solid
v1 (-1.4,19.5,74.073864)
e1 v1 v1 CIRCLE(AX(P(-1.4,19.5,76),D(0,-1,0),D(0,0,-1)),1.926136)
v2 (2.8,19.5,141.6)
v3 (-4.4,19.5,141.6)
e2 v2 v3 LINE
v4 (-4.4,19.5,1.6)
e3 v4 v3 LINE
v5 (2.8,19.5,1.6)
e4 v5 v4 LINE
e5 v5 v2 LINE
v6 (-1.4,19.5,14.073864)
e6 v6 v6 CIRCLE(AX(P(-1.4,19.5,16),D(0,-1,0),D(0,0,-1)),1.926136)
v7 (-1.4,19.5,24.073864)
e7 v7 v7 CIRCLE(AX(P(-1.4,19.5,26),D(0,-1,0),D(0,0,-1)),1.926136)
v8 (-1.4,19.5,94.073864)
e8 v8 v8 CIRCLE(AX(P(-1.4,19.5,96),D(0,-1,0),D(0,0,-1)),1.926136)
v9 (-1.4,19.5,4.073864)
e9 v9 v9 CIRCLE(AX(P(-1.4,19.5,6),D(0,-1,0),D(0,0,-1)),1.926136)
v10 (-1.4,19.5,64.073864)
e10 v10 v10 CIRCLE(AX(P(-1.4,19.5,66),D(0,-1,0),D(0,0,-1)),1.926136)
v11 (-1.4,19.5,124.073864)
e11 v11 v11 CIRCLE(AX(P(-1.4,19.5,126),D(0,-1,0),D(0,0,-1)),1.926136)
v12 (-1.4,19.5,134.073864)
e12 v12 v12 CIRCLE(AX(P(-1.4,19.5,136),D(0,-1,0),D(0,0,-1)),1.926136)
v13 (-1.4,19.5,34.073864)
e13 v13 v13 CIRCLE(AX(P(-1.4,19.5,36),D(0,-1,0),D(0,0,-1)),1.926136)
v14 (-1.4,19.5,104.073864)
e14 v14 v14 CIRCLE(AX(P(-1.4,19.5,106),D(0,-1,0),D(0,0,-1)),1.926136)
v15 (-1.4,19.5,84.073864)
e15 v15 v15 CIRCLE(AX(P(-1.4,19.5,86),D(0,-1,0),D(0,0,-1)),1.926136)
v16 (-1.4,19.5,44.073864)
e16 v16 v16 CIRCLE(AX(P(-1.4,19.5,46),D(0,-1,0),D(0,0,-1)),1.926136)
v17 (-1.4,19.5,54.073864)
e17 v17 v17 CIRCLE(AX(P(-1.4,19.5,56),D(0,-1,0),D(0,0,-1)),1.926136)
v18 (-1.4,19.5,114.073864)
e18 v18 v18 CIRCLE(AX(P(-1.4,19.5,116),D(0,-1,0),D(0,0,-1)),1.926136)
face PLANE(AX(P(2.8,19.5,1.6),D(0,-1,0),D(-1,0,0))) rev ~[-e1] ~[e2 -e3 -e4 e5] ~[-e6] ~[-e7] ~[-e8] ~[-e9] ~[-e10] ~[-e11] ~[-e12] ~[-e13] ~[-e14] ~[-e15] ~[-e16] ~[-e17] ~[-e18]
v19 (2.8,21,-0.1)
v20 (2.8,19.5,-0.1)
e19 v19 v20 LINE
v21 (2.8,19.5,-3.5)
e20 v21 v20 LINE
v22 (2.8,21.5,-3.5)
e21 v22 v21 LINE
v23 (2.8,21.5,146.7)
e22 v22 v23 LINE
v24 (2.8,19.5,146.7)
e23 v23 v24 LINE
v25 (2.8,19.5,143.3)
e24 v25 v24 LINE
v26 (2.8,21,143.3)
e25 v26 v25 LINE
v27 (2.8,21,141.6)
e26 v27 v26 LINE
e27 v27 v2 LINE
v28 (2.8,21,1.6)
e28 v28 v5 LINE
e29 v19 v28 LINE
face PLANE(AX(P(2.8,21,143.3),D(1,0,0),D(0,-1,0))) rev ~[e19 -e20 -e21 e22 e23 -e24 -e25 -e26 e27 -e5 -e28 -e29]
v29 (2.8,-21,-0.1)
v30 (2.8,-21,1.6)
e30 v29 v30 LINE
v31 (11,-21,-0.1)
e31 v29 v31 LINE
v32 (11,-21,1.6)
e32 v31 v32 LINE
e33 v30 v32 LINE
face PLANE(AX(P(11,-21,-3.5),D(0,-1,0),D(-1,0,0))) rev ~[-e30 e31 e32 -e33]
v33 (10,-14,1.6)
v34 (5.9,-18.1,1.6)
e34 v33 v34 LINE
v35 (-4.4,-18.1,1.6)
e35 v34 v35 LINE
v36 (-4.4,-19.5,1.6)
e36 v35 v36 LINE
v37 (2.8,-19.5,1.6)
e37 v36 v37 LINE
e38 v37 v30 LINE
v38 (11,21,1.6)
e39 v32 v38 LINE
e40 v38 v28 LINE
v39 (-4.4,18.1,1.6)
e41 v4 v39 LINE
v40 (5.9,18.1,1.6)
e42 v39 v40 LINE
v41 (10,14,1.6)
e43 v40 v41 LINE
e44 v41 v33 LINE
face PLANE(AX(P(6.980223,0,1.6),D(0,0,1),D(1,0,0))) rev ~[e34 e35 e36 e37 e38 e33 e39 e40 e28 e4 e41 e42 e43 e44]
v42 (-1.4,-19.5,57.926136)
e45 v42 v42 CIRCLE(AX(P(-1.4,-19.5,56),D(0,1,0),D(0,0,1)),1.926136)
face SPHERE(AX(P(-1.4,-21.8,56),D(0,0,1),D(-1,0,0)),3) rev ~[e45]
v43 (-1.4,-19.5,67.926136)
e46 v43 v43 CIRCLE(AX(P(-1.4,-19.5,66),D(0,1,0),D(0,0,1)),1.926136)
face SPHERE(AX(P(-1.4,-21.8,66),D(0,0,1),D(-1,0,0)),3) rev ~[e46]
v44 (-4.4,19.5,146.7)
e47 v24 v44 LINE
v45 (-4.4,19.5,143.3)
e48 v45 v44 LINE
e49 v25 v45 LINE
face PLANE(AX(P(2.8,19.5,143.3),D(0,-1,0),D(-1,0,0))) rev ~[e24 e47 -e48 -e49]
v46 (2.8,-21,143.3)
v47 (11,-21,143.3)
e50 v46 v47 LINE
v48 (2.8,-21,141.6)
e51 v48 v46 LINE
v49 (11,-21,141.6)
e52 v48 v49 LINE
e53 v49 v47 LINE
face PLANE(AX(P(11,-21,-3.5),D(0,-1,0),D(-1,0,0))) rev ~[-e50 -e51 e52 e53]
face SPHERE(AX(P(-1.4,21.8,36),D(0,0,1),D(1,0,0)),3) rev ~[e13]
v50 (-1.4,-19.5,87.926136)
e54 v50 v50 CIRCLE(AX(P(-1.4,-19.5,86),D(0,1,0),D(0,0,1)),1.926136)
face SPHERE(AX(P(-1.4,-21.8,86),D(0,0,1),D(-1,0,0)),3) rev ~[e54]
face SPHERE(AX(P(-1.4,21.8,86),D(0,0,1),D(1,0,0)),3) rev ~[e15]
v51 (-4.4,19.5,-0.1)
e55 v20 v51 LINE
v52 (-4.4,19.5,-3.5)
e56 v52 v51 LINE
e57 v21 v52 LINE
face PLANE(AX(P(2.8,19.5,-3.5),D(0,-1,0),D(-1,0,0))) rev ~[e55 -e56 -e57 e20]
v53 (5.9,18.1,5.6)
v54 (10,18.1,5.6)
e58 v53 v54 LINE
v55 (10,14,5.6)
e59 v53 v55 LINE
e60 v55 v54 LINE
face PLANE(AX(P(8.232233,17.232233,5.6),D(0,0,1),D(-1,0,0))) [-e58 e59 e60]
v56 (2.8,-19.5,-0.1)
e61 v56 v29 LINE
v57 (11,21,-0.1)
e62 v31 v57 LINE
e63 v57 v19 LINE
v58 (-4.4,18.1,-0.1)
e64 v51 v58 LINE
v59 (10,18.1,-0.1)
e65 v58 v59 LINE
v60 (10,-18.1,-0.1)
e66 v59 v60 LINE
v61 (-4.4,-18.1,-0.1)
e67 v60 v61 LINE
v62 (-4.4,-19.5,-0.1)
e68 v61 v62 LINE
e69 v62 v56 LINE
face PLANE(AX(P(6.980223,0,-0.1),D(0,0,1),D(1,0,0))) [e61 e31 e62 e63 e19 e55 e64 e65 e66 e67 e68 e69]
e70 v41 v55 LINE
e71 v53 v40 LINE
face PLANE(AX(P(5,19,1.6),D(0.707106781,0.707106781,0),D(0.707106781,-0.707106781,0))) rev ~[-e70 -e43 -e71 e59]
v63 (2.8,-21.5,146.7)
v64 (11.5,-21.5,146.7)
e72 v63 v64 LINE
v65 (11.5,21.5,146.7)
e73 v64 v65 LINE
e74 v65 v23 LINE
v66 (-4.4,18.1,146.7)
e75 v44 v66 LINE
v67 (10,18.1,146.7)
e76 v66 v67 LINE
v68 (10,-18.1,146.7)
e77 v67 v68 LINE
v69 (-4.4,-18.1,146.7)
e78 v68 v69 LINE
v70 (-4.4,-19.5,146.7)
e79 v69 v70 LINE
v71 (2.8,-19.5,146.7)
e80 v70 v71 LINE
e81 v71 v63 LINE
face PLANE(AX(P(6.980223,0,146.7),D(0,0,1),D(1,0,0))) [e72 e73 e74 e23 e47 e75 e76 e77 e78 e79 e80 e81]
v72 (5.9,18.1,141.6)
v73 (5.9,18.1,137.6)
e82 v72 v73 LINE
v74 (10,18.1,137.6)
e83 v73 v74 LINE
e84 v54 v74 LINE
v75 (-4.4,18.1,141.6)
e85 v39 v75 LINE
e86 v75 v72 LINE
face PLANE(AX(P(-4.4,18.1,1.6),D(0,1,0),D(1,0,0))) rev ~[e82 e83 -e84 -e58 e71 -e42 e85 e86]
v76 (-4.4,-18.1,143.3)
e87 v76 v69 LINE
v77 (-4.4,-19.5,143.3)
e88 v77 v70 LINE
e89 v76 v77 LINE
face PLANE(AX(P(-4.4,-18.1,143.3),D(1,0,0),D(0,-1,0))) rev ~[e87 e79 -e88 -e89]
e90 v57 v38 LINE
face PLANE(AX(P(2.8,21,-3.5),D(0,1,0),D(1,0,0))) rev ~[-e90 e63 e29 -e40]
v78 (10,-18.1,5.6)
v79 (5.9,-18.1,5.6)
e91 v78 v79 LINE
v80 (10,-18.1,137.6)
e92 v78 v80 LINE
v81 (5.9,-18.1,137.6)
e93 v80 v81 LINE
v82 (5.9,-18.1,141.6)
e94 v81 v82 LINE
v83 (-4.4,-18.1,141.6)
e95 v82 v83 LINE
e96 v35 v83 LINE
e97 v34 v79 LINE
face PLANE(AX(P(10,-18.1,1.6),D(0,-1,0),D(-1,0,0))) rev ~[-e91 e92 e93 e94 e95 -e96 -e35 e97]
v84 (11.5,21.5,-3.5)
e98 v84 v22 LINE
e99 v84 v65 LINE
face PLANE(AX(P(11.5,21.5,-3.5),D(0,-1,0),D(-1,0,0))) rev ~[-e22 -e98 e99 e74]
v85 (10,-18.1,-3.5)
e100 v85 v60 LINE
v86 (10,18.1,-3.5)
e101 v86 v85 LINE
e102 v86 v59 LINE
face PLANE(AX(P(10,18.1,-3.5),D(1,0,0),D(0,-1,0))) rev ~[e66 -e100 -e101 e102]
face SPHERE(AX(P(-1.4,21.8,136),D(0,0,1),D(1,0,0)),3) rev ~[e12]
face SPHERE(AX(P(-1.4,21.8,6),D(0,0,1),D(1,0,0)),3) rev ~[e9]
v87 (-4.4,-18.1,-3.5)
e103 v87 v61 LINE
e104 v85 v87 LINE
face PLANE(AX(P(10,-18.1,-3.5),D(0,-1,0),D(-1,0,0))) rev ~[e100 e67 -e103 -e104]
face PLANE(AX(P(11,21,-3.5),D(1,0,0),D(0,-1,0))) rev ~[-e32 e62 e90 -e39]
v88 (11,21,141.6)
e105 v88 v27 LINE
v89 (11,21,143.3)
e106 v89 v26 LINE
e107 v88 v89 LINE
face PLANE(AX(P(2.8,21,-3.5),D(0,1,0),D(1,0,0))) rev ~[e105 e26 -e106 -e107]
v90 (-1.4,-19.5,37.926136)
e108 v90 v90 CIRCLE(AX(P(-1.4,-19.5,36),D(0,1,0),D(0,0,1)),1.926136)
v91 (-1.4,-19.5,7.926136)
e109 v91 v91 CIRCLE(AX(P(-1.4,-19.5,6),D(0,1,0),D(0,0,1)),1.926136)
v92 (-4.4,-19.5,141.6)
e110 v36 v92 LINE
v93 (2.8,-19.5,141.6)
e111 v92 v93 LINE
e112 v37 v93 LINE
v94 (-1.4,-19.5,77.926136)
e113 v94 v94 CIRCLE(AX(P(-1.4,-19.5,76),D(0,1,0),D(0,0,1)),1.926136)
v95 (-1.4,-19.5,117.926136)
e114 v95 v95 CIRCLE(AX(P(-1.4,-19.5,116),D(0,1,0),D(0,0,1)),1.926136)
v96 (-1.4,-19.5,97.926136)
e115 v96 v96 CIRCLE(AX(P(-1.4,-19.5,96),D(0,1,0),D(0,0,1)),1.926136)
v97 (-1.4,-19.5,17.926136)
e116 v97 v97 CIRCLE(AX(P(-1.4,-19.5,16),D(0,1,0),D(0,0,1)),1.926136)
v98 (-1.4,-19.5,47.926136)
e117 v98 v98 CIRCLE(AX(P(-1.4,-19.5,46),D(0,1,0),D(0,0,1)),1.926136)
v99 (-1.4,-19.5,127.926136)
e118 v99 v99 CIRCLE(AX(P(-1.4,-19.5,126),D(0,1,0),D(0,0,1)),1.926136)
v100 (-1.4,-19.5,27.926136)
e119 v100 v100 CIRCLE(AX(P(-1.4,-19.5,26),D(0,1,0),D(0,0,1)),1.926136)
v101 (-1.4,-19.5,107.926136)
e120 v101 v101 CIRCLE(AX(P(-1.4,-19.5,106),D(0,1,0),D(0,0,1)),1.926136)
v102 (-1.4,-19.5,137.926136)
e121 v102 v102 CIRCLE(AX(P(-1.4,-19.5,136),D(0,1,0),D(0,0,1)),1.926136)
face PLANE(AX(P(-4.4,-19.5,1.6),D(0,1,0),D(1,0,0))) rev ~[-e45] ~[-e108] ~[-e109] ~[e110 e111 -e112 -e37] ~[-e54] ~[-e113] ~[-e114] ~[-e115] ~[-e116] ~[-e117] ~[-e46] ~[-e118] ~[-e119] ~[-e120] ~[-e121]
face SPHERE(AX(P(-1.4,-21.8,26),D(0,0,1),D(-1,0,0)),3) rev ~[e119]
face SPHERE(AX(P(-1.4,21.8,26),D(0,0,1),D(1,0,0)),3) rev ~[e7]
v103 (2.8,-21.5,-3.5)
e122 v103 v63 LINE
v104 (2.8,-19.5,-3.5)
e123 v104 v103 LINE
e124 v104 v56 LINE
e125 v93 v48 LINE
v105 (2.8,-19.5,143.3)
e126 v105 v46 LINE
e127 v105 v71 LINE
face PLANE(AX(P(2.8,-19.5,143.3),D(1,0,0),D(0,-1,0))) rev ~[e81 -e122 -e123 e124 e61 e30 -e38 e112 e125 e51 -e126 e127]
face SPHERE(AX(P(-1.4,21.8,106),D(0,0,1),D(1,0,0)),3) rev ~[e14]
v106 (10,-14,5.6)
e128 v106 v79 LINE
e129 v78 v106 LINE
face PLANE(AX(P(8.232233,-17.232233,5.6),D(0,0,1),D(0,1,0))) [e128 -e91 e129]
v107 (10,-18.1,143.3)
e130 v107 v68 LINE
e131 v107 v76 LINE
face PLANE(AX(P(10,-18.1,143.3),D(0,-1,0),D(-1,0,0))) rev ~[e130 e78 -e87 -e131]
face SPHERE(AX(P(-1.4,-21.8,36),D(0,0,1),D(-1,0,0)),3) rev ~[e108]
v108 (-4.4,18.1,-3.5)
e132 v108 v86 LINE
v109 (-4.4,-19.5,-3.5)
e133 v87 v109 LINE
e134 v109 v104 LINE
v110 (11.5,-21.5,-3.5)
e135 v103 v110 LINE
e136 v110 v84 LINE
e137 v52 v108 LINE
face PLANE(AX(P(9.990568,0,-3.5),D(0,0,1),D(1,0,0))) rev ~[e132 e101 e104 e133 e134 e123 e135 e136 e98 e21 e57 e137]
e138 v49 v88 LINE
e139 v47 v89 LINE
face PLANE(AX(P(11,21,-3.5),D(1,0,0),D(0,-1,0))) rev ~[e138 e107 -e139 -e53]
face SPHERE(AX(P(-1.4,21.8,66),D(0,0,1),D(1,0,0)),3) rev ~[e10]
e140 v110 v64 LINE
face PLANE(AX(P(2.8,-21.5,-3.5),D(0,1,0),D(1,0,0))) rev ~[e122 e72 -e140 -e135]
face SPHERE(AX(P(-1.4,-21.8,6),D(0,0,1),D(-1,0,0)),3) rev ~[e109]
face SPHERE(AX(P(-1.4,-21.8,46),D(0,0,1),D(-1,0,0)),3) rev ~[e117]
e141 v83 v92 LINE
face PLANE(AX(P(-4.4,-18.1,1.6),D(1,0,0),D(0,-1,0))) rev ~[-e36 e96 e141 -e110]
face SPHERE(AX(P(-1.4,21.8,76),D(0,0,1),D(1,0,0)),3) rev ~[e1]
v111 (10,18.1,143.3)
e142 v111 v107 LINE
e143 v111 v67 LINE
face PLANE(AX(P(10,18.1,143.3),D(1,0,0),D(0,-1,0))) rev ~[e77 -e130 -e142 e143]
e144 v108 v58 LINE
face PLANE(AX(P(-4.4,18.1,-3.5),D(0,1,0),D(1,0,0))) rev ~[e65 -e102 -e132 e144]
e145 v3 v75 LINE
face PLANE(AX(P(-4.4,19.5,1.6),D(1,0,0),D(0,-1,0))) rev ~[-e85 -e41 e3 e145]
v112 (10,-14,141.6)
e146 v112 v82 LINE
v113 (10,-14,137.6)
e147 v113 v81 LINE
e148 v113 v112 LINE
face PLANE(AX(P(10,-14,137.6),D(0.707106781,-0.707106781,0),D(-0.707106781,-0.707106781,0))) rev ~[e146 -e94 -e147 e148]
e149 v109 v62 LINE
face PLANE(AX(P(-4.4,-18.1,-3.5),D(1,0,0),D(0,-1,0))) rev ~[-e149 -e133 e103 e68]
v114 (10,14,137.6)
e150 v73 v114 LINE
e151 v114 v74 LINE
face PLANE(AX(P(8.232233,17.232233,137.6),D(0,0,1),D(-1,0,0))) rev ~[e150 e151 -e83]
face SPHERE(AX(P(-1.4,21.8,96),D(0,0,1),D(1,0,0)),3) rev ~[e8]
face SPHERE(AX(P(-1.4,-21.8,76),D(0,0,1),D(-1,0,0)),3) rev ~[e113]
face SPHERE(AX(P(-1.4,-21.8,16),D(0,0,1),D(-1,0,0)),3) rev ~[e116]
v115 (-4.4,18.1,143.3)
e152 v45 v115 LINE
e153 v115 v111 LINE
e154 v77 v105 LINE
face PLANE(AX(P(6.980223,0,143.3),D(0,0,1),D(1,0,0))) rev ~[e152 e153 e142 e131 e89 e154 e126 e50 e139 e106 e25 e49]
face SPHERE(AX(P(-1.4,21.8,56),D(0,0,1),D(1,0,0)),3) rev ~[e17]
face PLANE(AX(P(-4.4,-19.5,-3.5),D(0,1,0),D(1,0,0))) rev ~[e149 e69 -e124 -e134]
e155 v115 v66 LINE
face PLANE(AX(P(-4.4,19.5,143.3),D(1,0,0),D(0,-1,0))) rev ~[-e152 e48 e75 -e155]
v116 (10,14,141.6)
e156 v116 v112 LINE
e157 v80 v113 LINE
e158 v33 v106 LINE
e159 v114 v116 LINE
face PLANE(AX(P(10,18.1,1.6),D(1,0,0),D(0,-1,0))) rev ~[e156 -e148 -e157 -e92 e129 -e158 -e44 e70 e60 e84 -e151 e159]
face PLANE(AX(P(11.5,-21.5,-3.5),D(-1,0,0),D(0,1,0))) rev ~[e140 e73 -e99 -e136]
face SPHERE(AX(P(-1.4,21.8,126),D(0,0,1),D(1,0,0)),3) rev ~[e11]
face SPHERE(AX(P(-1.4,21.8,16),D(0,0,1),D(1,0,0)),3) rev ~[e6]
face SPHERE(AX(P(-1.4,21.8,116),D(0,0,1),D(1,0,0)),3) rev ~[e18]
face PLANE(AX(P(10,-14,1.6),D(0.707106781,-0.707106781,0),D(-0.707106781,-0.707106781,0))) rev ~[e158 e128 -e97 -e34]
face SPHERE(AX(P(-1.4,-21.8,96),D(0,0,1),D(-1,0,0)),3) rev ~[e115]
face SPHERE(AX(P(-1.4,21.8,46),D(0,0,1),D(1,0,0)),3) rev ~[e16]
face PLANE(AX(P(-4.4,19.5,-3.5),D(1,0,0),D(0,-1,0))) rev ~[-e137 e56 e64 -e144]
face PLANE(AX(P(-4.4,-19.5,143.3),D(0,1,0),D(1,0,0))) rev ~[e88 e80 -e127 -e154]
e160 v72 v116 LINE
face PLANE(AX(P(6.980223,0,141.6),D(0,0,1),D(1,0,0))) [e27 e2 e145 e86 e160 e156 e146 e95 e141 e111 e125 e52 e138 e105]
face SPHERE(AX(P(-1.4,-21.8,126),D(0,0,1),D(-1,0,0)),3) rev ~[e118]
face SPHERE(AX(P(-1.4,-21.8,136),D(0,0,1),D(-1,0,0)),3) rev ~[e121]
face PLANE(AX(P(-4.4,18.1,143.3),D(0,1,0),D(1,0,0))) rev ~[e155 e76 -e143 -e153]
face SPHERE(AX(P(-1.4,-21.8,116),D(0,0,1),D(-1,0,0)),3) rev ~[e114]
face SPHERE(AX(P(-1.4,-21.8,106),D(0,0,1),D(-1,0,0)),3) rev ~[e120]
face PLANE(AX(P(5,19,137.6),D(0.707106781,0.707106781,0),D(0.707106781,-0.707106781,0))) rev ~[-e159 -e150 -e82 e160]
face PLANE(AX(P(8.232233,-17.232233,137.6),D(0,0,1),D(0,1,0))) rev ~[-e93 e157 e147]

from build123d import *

# Parameters (mm, degrees)
EXTRUDE012_DEPTH           = 4
EXTRUDE012_PLACEMENT_ANGLE = 90
EXTRUDE013_DEPTH           = 4
EXTRUDE013_PLACEMENT_ANGLE = 180
EXTRUDE010_DEPTH           = 4
EXTRUDE010_PLACEMENT_ANGLE = 90
EXTRUDE011_DEPTH           = 4
EXTRUDE011_PLACEMENT_ANGLE = 180
BOX010_W                   = 10
BOX010_H                   = 10
BOX010_DEPTH               = 10
BOX014_W                   = 10
BOX014_H                   = 10
BOX014_DEPTH               = 10
BOX016_W                   = 10
BOX016_H                   = 10
BOX016_DEPTH               = 10
BOX019_W                   = 10
BOX019_H                   = 10
BOX019_DEPTH               = 10
BOX015_W                   = 10
BOX015_H                   = 10
BOX015_DEPTH               = 10
BOX012_W                   = 10
BOX012_H                   = 10
BOX012_DEPTH               = 10
BOX017_W                   = 10
BOX017_H                   = 10
BOX017_DEPTH               = 10
BOX018_W                   = 10
BOX018_H                   = 10
BOX018_DEPTH               = 10
BOX020_W                   = 10
BOX020_H                   = 10
BOX020_DEPTH               = 10
BOX009_W                   = 10
BOX009_H                   = 10
BOX009_DEPTH               = 10
BOX011_W                   = 10
BOX011_H                   = 10
BOX011_DEPTH               = 10
BOX013_W                   = 10
BOX013_H                   = 10
BOX013_DEPTH               = 10
BOX021_W                   = 10
BOX021_H                   = 10
BOX021_DEPTH               = 10
BOX008_W                   = 10
BOX008_H                   = 10
BOX008_DEPTH               = 10
BOX043_W                   = 10
BOX043_H                   = 10
BOX043_DEPTH               = 10
BOX046_W                   = 10
BOX046_H                   = 10
BOX046_DEPTH               = 10
BOX041_W                   = 10
BOX041_H                   = 10
BOX041_DEPTH               = 10
BOX037_W                   = 10
BOX037_H                   = 10
BOX037_DEPTH               = 10
BOX038_W                   = 10
BOX038_H                   = 10
BOX038_DEPTH               = 10
BOX047_W                   = 10
BOX047_H                   = 10
BOX047_DEPTH               = 10
BOX036_W                   = 10
BOX036_H                   = 10
BOX036_DEPTH               = 10
BOX039_W                   = 10
BOX039_H                   = 10
BOX039_DEPTH               = 10
BOX040_W                   = 10
BOX040_H                   = 10
BOX040_DEPTH               = 10
BOX042_W                   = 10
BOX042_H                   = 10
BOX042_DEPTH               = 10
BOX049_W                   = 10
BOX049_H                   = 10
BOX049_DEPTH               = 10
BOX048_W                   = 10
BOX048_H                   = 10
BOX048_DEPTH               = 10
BOX045_W                   = 10
BOX045_H                   = 10
BOX045_DEPTH               = 10
BOX044_W                   = 10
BOX044_H                   = 10
BOX044_DEPTH               = 10
FUSION011_PLACEMENT_ANGLE  = 180
EXTRUDE005_DEPTH           = 140
EXTRUDE006_DEPTH           = 3.4
EXTRUDE001_DEPTH           = 3.4
EXTRUDE002_DEPTH           = 150.2


with BuildPart() as extrude012:
    # Sketch011 → Extrude012 (new body)
    with BuildSketch(Plane.XY):
        Polygon((0, 0), (5, 0), (0, 5), align=None)
    extrude(amount=EXTRUDE012_DEPTH)


with BuildPart() as extrude012_1:
    # Extrude012 placement: moved
    add(extrude012.part.moved(Location((10, -19, 1.6))).rotate(Axis((10, -19, 1.6), (0, 0, 1)), EXTRUDE012_PLACEMENT_ANGLE))


with BuildPart() as stableliser2:
    # Sketch011 → Extrude013 (new body)
    with BuildSketch(Plane.XY):
        Polygon((0, 0), (5, 0), (0, 5), align=None)
    extrude(amount=EXTRUDE013_DEPTH)


with BuildPart() as stableliser2_1:
    # Extrude013 placement: moved
    add(stableliser2.part.moved(Location((10, 19, 1.6))).rotate(Axis((10, 19, 1.6), (0, 0, 1)), EXTRUDE013_PLACEMENT_ANGLE))

    # Fusion025: union Extrude012
    add(extrude012_1.part)


with BuildPart() as stableliser2_2:
    # Fusion025 placement: moved
    add(stableliser2_1.part.moved(Location((0, 0, 136))))


with BuildPart() as extrude010:
    # Sketch010 (on Cut) → Extrude010 (new body)
    with BuildSketch(Plane.XY):
        Polygon((0, 0), (5, 0), (0, 5), align=None)
    extrude(amount=EXTRUDE010_DEPTH)


with BuildPart() as extrude010_1:
    # Extrude010 placement: moved
    add(extrude010.part.moved(Location((10, -19, 1.6))).rotate(Axis((10, -19, 1.6), (0, 0, 1)), EXTRUDE010_PLACEMENT_ANGLE))


with BuildPart() as stableliser1:
    # Sketch010 (on Cut) → Extrude011 (new body)
    with BuildSketch(Plane.XY):
        Polygon((0, 0), (5, 0), (0, 5), align=None)
    extrude(amount=EXTRUDE011_DEPTH)


with BuildPart() as stableliser1_1:
    # Extrude011 placement: moved
    add(stableliser1.part.moved(Location((10, 19, 1.6))).rotate(Axis((10, 19, 1.6), (0, 0, 1)), EXTRUDE011_PLACEMENT_ANGLE))

    # Fusion019: union Extrude010
    add(extrude010_1.part)


with BuildPart() as cube008:
    # Box010 → Box010 (new body)
    with BuildSketch(Plane(origin=(-6, 20.5, 0), x_dir=(1, 0, 0), z_dir=(0, 0, 1))):
        with Locations((5, 5)):
            Rectangle(BOX010_W, BOX010_H)
    extrude(amount=BOX010_DEPTH)


with BuildPart() as nobhole002:
    # Sphere003 → Sphere003 (revolve)
    with BuildSketch(Plane(origin=(-1, 21.8, 6), x_dir=(1, 0, 0), z_dir=(0, -1, 0))):
        with BuildLine():
            ThreePointArc((0, -3), (3, 0), (0, 3))
            Line((0, 3), (0, -3))
        make_face()
    revolve(axis=Axis((-1, 21.8, 6), (0, 0, 1)))

    # Cut004: cut Cube008
    add(cube008.part, mode=Mode.SUBTRACT)


with BuildPart() as nobhole002_1:
    # Cut004 placement: moved
    add(nobhole002.part.moved(Location((0, 0, 20))))


with BuildPart() as cube012:
    # Box014 → Box014 (new body)
    with BuildSketch(Plane(origin=(-6, 20.5, 0), x_dir=(1, 0, 0), z_dir=(0, 0, 1))):
        with Locations((5, 5)):
            Rectangle(BOX014_W, BOX014_H)
    extrude(amount=BOX014_DEPTH)


with BuildPart() as nobhole006:
    # Sphere007 → Sphere007 (revolve)
    with BuildSketch(Plane(origin=(-1, 21.8, 6), x_dir=(1, 0, 0), z_dir=(0, -1, 0))):
        with BuildLine():
            ThreePointArc((0, -3), (3, 0), (0, 3))
            Line((0, 3), (0, -3))
        make_face()
    revolve(axis=Axis((-1, 21.8, 6), (0, 0, 1)))

    # Cut008: cut Cube012
    add(cube012.part, mode=Mode.SUBTRACT)


with BuildPart() as nobhole006_1:
    # Cut008 placement: moved
    add(nobhole006.part.moved(Location((0, 0, 60))))


with BuildPart() as cube014:
    # Box016 → Box016 (new body)
    with BuildSketch(Plane(origin=(-6, 20.5, 0), x_dir=(1, 0, 0), z_dir=(0, 0, 1))):
        with Locations((5, 5)):
            Rectangle(BOX016_W, BOX016_H)
    extrude(amount=BOX016_DEPTH)


with BuildPart() as nobhole008:
    # Sphere009 → Sphere009 (revolve)
    with BuildSketch(Plane(origin=(-1, 21.8, 6), x_dir=(1, 0, 0), z_dir=(0, -1, 0))):
        with BuildLine():
            ThreePointArc((0, -3), (3, 0), (0, 3))
            Line((0, 3), (0, -3))
        make_face()
    revolve(axis=Axis((-1, 21.8, 6), (0, 0, 1)))

    # Cut010: cut Cube014
    add(cube014.part, mode=Mode.SUBTRACT)


with BuildPart() as nobhole008_1:
    # Cut010 placement: moved
    add(nobhole008.part.moved(Location((0, 0, 80))))


with BuildPart() as cube017:
    # Box019 → Box019 (new body)
    with BuildSketch(Plane(origin=(-6, 20.5, 0), x_dir=(1, 0, 0), z_dir=(0, 0, 1))):
        with Locations((5, 5)):
            Rectangle(BOX019_W, BOX019_H)
    extrude(amount=BOX019_DEPTH)


with BuildPart() as nobhole011:
    # Sphere012 → Sphere012 (revolve)
    with BuildSketch(Plane(origin=(-1, 21.8, 6), x_dir=(1, 0, 0), z_dir=(0, -1, 0))):
        with BuildLine():
            ThreePointArc((0, -3), (3, 0), (0, 3))
            Line((0, 3), (0, -3))
        make_face()
    revolve(axis=Axis((-1, 21.8, 6), (0, 0, 1)))

    # Cut013: cut Cube017
    add(cube017.part, mode=Mode.SUBTRACT)


with BuildPart() as nobhole011_1:
    # Cut013 placement: moved
    add(nobhole011.part.moved(Location((0, 0, 110))))


with BuildPart() as cube013:
    # Box015 → Box015 (new body)
    with BuildSketch(Plane(origin=(-6, 20.5, 0), x_dir=(1, 0, 0), z_dir=(0, 0, 1))):
        with Locations((5, 5)):
            Rectangle(BOX015_W, BOX015_H)
    extrude(amount=BOX015_DEPTH)


with BuildPart() as nobhole007:
    # Sphere008 → Sphere008 (revolve)
    with BuildSketch(Plane(origin=(-1, 21.8, 6), x_dir=(1, 0, 0), z_dir=(0, -1, 0))):
        with BuildLine():
            ThreePointArc((0, -3), (3, 0), (0, 3))
            Line((0, 3), (0, -3))
        make_face()
    revolve(axis=Axis((-1, 21.8, 6), (0, 0, 1)))

    # Cut009: cut Cube013
    add(cube013.part, mode=Mode.SUBTRACT)


with BuildPart() as nobhole007_1:
    # Cut009 placement: moved
    add(nobhole007.part.moved(Location((0, 0, 70))))


with BuildPart() as cube010:
    # Box012 → Box012 (new body)
    with BuildSketch(Plane(origin=(-6, 20.5, 0), x_dir=(1, 0, 0), z_dir=(0, 0, 1))):
        with Locations((5, 5)):
            Rectangle(BOX012_W, BOX012_H)
    extrude(amount=BOX012_DEPTH)


with BuildPart() as nobhole004:
    # Sphere005 → Sphere005 (revolve)
    with BuildSketch(Plane(origin=(-1, 21.8, 6), x_dir=(1, 0, 0), z_dir=(0, -1, 0))):
        with BuildLine():
            ThreePointArc((0, -3), (3, 0), (0, 3))
            Line((0, 3), (0, -3))
        make_face()
    revolve(axis=Axis((-1, 21.8, 6), (0, 0, 1)))

    # Cut006: cut Cube010
    add(cube010.part, mode=Mode.SUBTRACT)


with BuildPart() as nobhole004_1:
    # Cut006 placement: moved
    add(nobhole004.part.moved(Location((0, 0, 40))))


with BuildPart() as cube015:
    # Box017 → Box017 (new body)
    with BuildSketch(Plane(origin=(-6, 20.5, 0), x_dir=(1, 0, 0), z_dir=(0, 0, 1))):
        with Locations((5, 5)):
            Rectangle(BOX017_W, BOX017_H)
    extrude(amount=BOX017_DEPTH)


with BuildPart() as nobhole009:
    # Sphere010 → Sphere010 (revolve)
    with BuildSketch(Plane(origin=(-1, 21.8, 6), x_dir=(1, 0, 0), z_dir=(0, -1, 0))):
        with BuildLine():
            ThreePointArc((0, -3), (3, 0), (0, 3))
            Line((0, 3), (0, -3))
        make_face()
    revolve(axis=Axis((-1, 21.8, 6), (0, 0, 1)))

    # Cut011: cut Cube015
    add(cube015.part, mode=Mode.SUBTRACT)


with BuildPart() as nobhole009_1:
    # Cut011 placement: moved
    add(nobhole009.part.moved(Location((0, 0, 90))))


with BuildPart() as cube016:
    # Box018 → Box018 (new body)
    with BuildSketch(Plane(origin=(-6, 20.5, 0), x_dir=(1, 0, 0), z_dir=(0, 0, 1))):
        with Locations((5, 5)):
            Rectangle(BOX018_W, BOX018_H)
    extrude(amount=BOX018_DEPTH)


with BuildPart() as nobhole010:
    # Sphere011 → Sphere011 (revolve)
    with BuildSketch(Plane(origin=(-1, 21.8, 6), x_dir=(1, 0, 0), z_dir=(0, -1, 0))):
        with BuildLine():
            ThreePointArc((0, -3), (3, 0), (0, 3))
            Line((0, 3), (0, -3))
        make_face()
    revolve(axis=Axis((-1, 21.8, 6), (0, 0, 1)))

    # Cut012: cut Cube016
    add(cube016.part, mode=Mode.SUBTRACT)


with BuildPart() as nobhole010_1:
    # Cut012 placement: moved
    add(nobhole010.part.moved(Location((0, 0, 100))))


with BuildPart() as cube018:
    # Box020 → Box020 (new body)
    with BuildSketch(Plane(origin=(-6, 20.5, 0), x_dir=(1, 0, 0), z_dir=(0, 0, 1))):
        with Locations((5, 5)):
            Rectangle(BOX020_W, BOX020_H)
    extrude(amount=BOX020_DEPTH)


with BuildPart() as nobhole012:
    # Sphere013 → Sphere013 (revolve)
    with BuildSketch(Plane(origin=(-1, 21.8, 6), x_dir=(1, 0, 0), z_dir=(0, -1, 0))):
        with BuildLine():
            ThreePointArc((0, -3), (3, 0), (0, 3))
            Line((0, 3), (0, -3))
        make_face()
    revolve(axis=Axis((-1, 21.8, 6), (0, 0, 1)))

    # Cut014: cut Cube018
    add(cube018.part, mode=Mode.SUBTRACT)


with BuildPart() as nobhole012_1:
    # Cut014 placement: moved
    add(nobhole012.part.moved(Location((0, 0, 120))))


with BuildPart() as cube007:
    # Box009 → Box009 (new body)
    with BuildSketch(Plane(origin=(-6, 20.5, 0), x_dir=(1, 0, 0), z_dir=(0, 0, 1))):
        with Locations((5, 5)):
            Rectangle(BOX009_W, BOX009_H)
    extrude(amount=BOX009_DEPTH)


with BuildPart() as nobhole001:
    # Sphere002 → Sphere002 (revolve)
    with BuildSketch(Plane(origin=(-1, 21.8, 6), x_dir=(1, 0, 0), z_dir=(0, -1, 0))):
        with BuildLine():
            ThreePointArc((0, -3), (3, 0), (0, 3))
            Line((0, 3), (0, -3))
        make_face()
    revolve(axis=Axis((-1, 21.8, 6), (0, 0, 1)))

    # Cut003: cut Cube007
    add(cube007.part, mode=Mode.SUBTRACT)


with BuildPart() as nobhole001_1:
    # Cut003 placement: moved
    add(nobhole001.part.moved(Location((0, 0, 10))))


with BuildPart() as cube009:
    # Box011 → Box011 (new body)
    with BuildSketch(Plane(origin=(-6, 20.5, 0), x_dir=(1, 0, 0), z_dir=(0, 0, 1))):
        with Locations((5, 5)):
            Rectangle(BOX011_W, BOX011_H)
    extrude(amount=BOX011_DEPTH)


with BuildPart() as nobhole003:
    # Sphere004 → Sphere004 (revolve)
    with BuildSketch(Plane(origin=(-1, 21.8, 6), x_dir=(1, 0, 0), z_dir=(0, -1, 0))):
        with BuildLine():
            ThreePointArc((0, -3), (3, 0), (0, 3))
            Line((0, 3), (0, -3))
        make_face()
    revolve(axis=Axis((-1, 21.8, 6), (0, 0, 1)))

    # Cut005: cut Cube009
    add(cube009.part, mode=Mode.SUBTRACT)


with BuildPart() as nobhole003_1:
    # Cut005 placement: moved
    add(nobhole003.part.moved(Location((0, 0, 30))))


with BuildPart() as cube011:
    # Box013 → Box013 (new body)
    with BuildSketch(Plane(origin=(-6, 20.5, 0), x_dir=(1, 0, 0), z_dir=(0, 0, 1))):
        with Locations((5, 5)):
            Rectangle(BOX013_W, BOX013_H)
    extrude(amount=BOX013_DEPTH)


with BuildPart() as nobhole005:
    # Sphere006 → Sphere006 (revolve)
    with BuildSketch(Plane(origin=(-1, 21.8, 6), x_dir=(1, 0, 0), z_dir=(0, -1, 0))):
        with BuildLine():
            ThreePointArc((0, -3), (3, 0), (0, 3))
            Line((0, 3), (0, -3))
        make_face()
    revolve(axis=Axis((-1, 21.8, 6), (0, 0, 1)))

    # Cut007: cut Cube011
    add(cube011.part, mode=Mode.SUBTRACT)


with BuildPart() as nobhole005_1:
    # Cut007 placement: moved
    add(nobhole005.part.moved(Location((0, 0, 50))))


with BuildPart() as cube019:
    # Box021 → Box021 (new body)
    with BuildSketch(Plane(origin=(-6, 20.5, 0), x_dir=(1, 0, 0), z_dir=(0, 0, 1))):
        with Locations((5, 5)):
            Rectangle(BOX021_W, BOX021_H)
    extrude(amount=BOX021_DEPTH)


with BuildPart() as nobhole013:
    # Sphere014 → Sphere014 (revolve)
    with BuildSketch(Plane(origin=(-1, 21.8, 6), x_dir=(1, 0, 0), z_dir=(0, -1, 0))):
        with BuildLine():
            ThreePointArc((0, -3), (3, 0), (0, 3))
            Line((0, 3), (0, -3))
        make_face()
    revolve(axis=Axis((-1, 21.8, 6), (0, 0, 1)))

    # Cut015: cut Cube019
    add(cube019.part, mode=Mode.SUBTRACT)


with BuildPart() as nobhole013_1:
    # Cut015 placement: moved
    add(nobhole013.part.moved(Location((0, 0, 130))))


with BuildPart() as cube006:
    # Box008 → Box008 (new body)
    with BuildSketch(Plane(origin=(-6, 20.5, 0), x_dir=(1, 0, 0), z_dir=(0, 0, 1))):
        with Locations((5, 5)):
            Rectangle(BOX008_W, BOX008_H)
    extrude(amount=BOX008_DEPTH)


with BuildPart() as nobholes:
    # Sphere001 → Sphere001 (revolve)
    with BuildSketch(Plane(origin=(-1, 21.8, 6), x_dir=(1, 0, 0), z_dir=(0, -1, 0))):
        with BuildLine():
            ThreePointArc((0, -3), (3, 0), (0, 3))
            Line((0, 3), (0, -3))
        make_face()
    revolve(axis=Axis((-1, 21.8, 6), (0, 0, 1)))

    # Cut002: cut Cube006
    add(cube006.part, mode=Mode.SUBTRACT)

    # Fusion009: union NobHole002, NobHole006, NobHole008, NobHole011, NobHole007, NobHole004, NobHole009, NobHole010, NobHole012, NobHole001, NobHole003, NobHole005, NobHole013
    add(nobhole002_1.part)
    add(nobhole006_1.part)
    add(nobhole008_1.part)
    add(nobhole011_1.part)
    add(nobhole007_1.part)
    add(nobhole004_1.part)
    add(nobhole009_1.part)
    add(nobhole010_1.part)
    add(nobhole012_1.part)
    add(nobhole001_1.part)
    add(nobhole003_1.part)
    add(nobhole005_1.part)
    add(nobhole013_1.part)


with BuildPart() as cube041:
    # Box043 → Box043 (new body)
    with BuildSketch(Plane(origin=(-6, 20.5, 0), x_dir=(1, 0, 0), z_dir=(0, 0, 1))):
        with Locations((5, 5)):
            Rectangle(BOX043_W, BOX043_H)
    extrude(amount=BOX043_DEPTH)


with BuildPart() as nobhole028:
    # Sphere038 → Sphere038 (revolve)
    with BuildSketch(Plane(origin=(-1, 21.8, 6), x_dir=(1, 0, 0), z_dir=(0, -1, 0))):
        with BuildLine():
            ThreePointArc((0, -3), (3, 0), (0, 3))
            Line((0, 3), (0, -3))
        make_face()
    revolve(axis=Axis((-1, 21.8, 6), (0, 0, 1)))

    # Cut030: cut Cube041
    add(cube041.part, mode=Mode.SUBTRACT)


with BuildPart() as nobhole028_1:
    # Cut030 placement: moved
    add(nobhole028.part.moved(Location((0, 0, 20))))


with BuildPart() as cube044:
    # Box046 → Box046 (new body)
    with BuildSketch(Plane(origin=(-6, 20.5, 0), x_dir=(1, 0, 0), z_dir=(0, 0, 1))):
        with Locations((5, 5)):
            Rectangle(BOX046_W, BOX046_H)
    extrude(amount=BOX046_DEPTH)


with BuildPart() as nobhole029:
    # Sphere039 → Sphere039 (revolve)
    with BuildSketch(Plane(origin=(-1, 21.8, 6), x_dir=(1, 0, 0), z_dir=(0, -1, 0))):
        with BuildLine():
            ThreePointArc((0, -3), (3, 0), (0, 3))
            Line((0, 3), (0, -3))
        make_face()
    revolve(axis=Axis((-1, 21.8, 6), (0, 0, 1)))

    # Cut031: cut Cube044
    add(cube044.part, mode=Mode.SUBTRACT)


with BuildPart() as nobhole029_1:
    # Cut031 placement: moved
    add(nobhole029.part.moved(Location((0, 0, 60))))


with BuildPart() as cube039:
    # Box041 → Box041 (new body)
    with BuildSketch(Plane(origin=(-6, 20.5, 0), x_dir=(1, 0, 0), z_dir=(0, 0, 1))):
        with Locations((5, 5)):
            Rectangle(BOX041_W, BOX041_H)
    extrude(amount=BOX041_DEPTH)


with BuildPart() as nobhole030:
    # Sphere032 → Sphere032 (revolve)
    with BuildSketch(Plane(origin=(-1, 21.8, 6), x_dir=(1, 0, 0), z_dir=(0, -1, 0))):
        with BuildLine():
            ThreePointArc((0, -3), (3, 0), (0, 3))
            Line((0, 3), (0, -3))
        make_face()
    revolve(axis=Axis((-1, 21.8, 6), (0, 0, 1)))

    # Cut032: cut Cube039
    add(cube039.part, mode=Mode.SUBTRACT)


with BuildPart() as nobhole030_1:
    # Cut032 placement: moved
    add(nobhole030.part.moved(Location((0, 0, 80))))


with BuildPart() as cube035:
    # Box037 → Box037 (new body)
    with BuildSketch(Plane(origin=(-6, 20.5, 0), x_dir=(1, 0, 0), z_dir=(0, 0, 1))):
        with Locations((5, 5)):
            Rectangle(BOX037_W, BOX037_H)
    extrude(amount=BOX037_DEPTH)


with BuildPart() as nobhole031:
    # Sphere030 → Sphere030 (revolve)
    with BuildSketch(Plane(origin=(-1, 21.8, 6), x_dir=(1, 0, 0), z_dir=(0, -1, 0))):
        with BuildLine():
            ThreePointArc((0, -3), (3, 0), (0, 3))
            Line((0, 3), (0, -3))
        make_face()
    revolve(axis=Axis((-1, 21.8, 6), (0, 0, 1)))

    # Cut033: cut Cube035
    add(cube035.part, mode=Mode.SUBTRACT)


with BuildPart() as nobhole031_1:
    # Cut033 placement: moved
    add(nobhole031.part.moved(Location((0, 0, 110))))


with BuildPart() as cube036:
    # Box038 → Box038 (new body)
    with BuildSketch(Plane(origin=(-6, 20.5, 0), x_dir=(1, 0, 0), z_dir=(0, 0, 1))):
        with Locations((5, 5)):
            Rectangle(BOX038_W, BOX038_H)
    extrude(amount=BOX038_DEPTH)


with BuildPart() as nobhole032:
    # Sphere034 → Sphere034 (revolve)
    with BuildSketch(Plane(origin=(-1, 21.8, 6), x_dir=(1, 0, 0), z_dir=(0, -1, 0))):
        with BuildLine():
            ThreePointArc((0, -3), (3, 0), (0, 3))
            Line((0, 3), (0, -3))
        make_face()
    revolve(axis=Axis((-1, 21.8, 6), (0, 0, 1)))

    # Cut034: cut Cube036
    add(cube036.part, mode=Mode.SUBTRACT)


with BuildPart() as nobhole032_1:
    # Cut034 placement: moved
    add(nobhole032.part.moved(Location((0, 0, 70))))


with BuildPart() as cube045:
    # Box047 → Box047 (new body)
    with BuildSketch(Plane(origin=(-6, 20.5, 0), x_dir=(1, 0, 0), z_dir=(0, 0, 1))):
        with Locations((5, 5)):
            Rectangle(BOX047_W, BOX047_H)
    extrude(amount=BOX047_DEPTH)


with BuildPart() as nobhole033:
    # Sphere035 → Sphere035 (revolve)
    with BuildSketch(Plane(origin=(-1, 21.8, 6), x_dir=(1, 0, 0), z_dir=(0, -1, 0))):
        with BuildLine():
            ThreePointArc((0, -3), (3, 0), (0, 3))
            Line((0, 3), (0, -3))
        make_face()
    revolve(axis=Axis((-1, 21.8, 6), (0, 0, 1)))

    # Cut035: cut Cube045
    add(cube045.part, mode=Mode.SUBTRACT)


with BuildPart() as nobhole033_1:
    # Cut035 placement: moved
    add(nobhole033.part.moved(Location((0, 0, 40))))


with BuildPart() as cube034:
    # Box036 → Box036 (new body)
    with BuildSketch(Plane(origin=(-6, 20.5, 0), x_dir=(1, 0, 0), z_dir=(0, 0, 1))):
        with Locations((5, 5)):
            Rectangle(BOX036_W, BOX036_H)
    extrude(amount=BOX036_DEPTH)


with BuildPart() as nobhole034:
    # Sphere029 → Sphere029 (revolve)
    with BuildSketch(Plane(origin=(-1, 21.8, 6), x_dir=(1, 0, 0), z_dir=(0, -1, 0))):
        with BuildLine():
            ThreePointArc((0, -3), (3, 0), (0, 3))
            Line((0, 3), (0, -3))
        make_face()
    revolve(axis=Axis((-1, 21.8, 6), (0, 0, 1)))

    # Cut036: cut Cube034
    add(cube034.part, mode=Mode.SUBTRACT)


with BuildPart() as nobhole034_1:
    # Cut036 placement: moved
    add(nobhole034.part.moved(Location((0, 0, 90))))


with BuildPart() as cube037:
    # Box039 → Box039 (new body)
    with BuildSketch(Plane(origin=(-6, 20.5, 0), x_dir=(1, 0, 0), z_dir=(0, 0, 1))):
        with Locations((5, 5)):
            Rectangle(BOX039_W, BOX039_H)
    extrude(amount=BOX039_DEPTH)


with BuildPart() as nobhole035:
    # Sphere031 → Sphere031 (revolve)
    with BuildSketch(Plane(origin=(-1, 21.8, 6), x_dir=(1, 0, 0), z_dir=(0, -1, 0))):
        with BuildLine():
            ThreePointArc((0, -3), (3, 0), (0, 3))
            Line((0, 3), (0, -3))
        make_face()
    revolve(axis=Axis((-1, 21.8, 6), (0, 0, 1)))

    # Cut037: cut Cube037
    add(cube037.part, mode=Mode.SUBTRACT)


with BuildPart() as nobhole035_1:
    # Cut037 placement: moved
    add(nobhole035.part.moved(Location((0, 0, 100))))


with BuildPart() as cube038:
    # Box040 → Box040 (new body)
    with BuildSketch(Plane(origin=(-6, 20.5, 0), x_dir=(1, 0, 0), z_dir=(0, 0, 1))):
        with Locations((5, 5)):
            Rectangle(BOX040_W, BOX040_H)
    extrude(amount=BOX040_DEPTH)


with BuildPart() as nobhole037:
    # Sphere033 → Sphere033 (revolve)
    with BuildSketch(Plane(origin=(-1, 21.8, 6), x_dir=(1, 0, 0), z_dir=(0, -1, 0))):
        with BuildLine():
            ThreePointArc((0, -3), (3, 0), (0, 3))
            Line((0, 3), (0, -3))
        make_face()
    revolve(axis=Axis((-1, 21.8, 6), (0, 0, 1)))

    # Cut039: cut Cube038
    add(cube038.part, mode=Mode.SUBTRACT)


with BuildPart() as nobhole037_1:
    # Cut039 placement: moved
    add(nobhole037.part.moved(Location((0, 0, 120))))


with BuildPart() as cube040:
    # Box042 → Box042 (new body)
    with BuildSketch(Plane(origin=(-6, 20.5, 0), x_dir=(1, 0, 0), z_dir=(0, 0, 1))):
        with Locations((5, 5)):
            Rectangle(BOX042_W, BOX042_H)
    extrude(amount=BOX042_DEPTH)


with BuildPart() as nobhole038:
    # Sphere041 → Sphere041 (revolve)
    with BuildSketch(Plane(origin=(-1, 21.8, 6), x_dir=(1, 0, 0), z_dir=(0, -1, 0))):
        with BuildLine():
            ThreePointArc((0, -3), (3, 0), (0, 3))
            Line((0, 3), (0, -3))
        make_face()
    revolve(axis=Axis((-1, 21.8, 6), (0, 0, 1)))

    # Cut040: cut Cube040
    add(cube040.part, mode=Mode.SUBTRACT)


with BuildPart() as nobhole038_1:
    # Cut040 placement: moved
    add(nobhole038.part.moved(Location((0, 0, 10))))


with BuildPart() as cube047:
    # Box049 → Box049 (new body)
    with BuildSketch(Plane(origin=(-6, 20.5, 0), x_dir=(1, 0, 0), z_dir=(0, 0, 1))):
        with Locations((5, 5)):
            Rectangle(BOX049_W, BOX049_H)
    extrude(amount=BOX049_DEPTH)


with BuildPart() as nobhole039:
    # Sphere036 → Sphere036 (revolve)
    with BuildSketch(Plane(origin=(-1, 21.8, 6), x_dir=(1, 0, 0), z_dir=(0, -1, 0))):
        with BuildLine():
            ThreePointArc((0, -3), (3, 0), (0, 3))
            Line((0, 3), (0, -3))
        make_face()
    revolve(axis=Axis((-1, 21.8, 6), (0, 0, 1)))

    # Cut041: cut Cube047
    add(cube047.part, mode=Mode.SUBTRACT)


with BuildPart() as nobhole039_1:
    # Cut041 placement: moved
    add(nobhole039.part.moved(Location((0, 0, 30))))


with BuildPart() as cube046:
    # Box048 → Box048 (new body)
    with BuildSketch(Plane(origin=(-6, 20.5, 0), x_dir=(1, 0, 0), z_dir=(0, 0, 1))):
        with Locations((5, 5)):
            Rectangle(BOX048_W, BOX048_H)
    extrude(amount=BOX048_DEPTH)


with BuildPart() as nobhole040:
    # Sphere037 → Sphere037 (revolve)
    with BuildSketch(Plane(origin=(-1, 21.8, 6), x_dir=(1, 0, 0), z_dir=(0, -1, 0))):
        with BuildLine():
            ThreePointArc((0, -3), (3, 0), (0, 3))
            Line((0, 3), (0, -3))
        make_face()
    revolve(axis=Axis((-1, 21.8, 6), (0, 0, 1)))

    # Cut042: cut Cube046
    add(cube046.part, mode=Mode.SUBTRACT)


with BuildPart() as nobhole040_1:
    # Cut042 placement: moved
    add(nobhole040.part.moved(Location((0, 0, 50))))


with BuildPart() as cube043:
    # Box045 → Box045 (new body)
    with BuildSketch(Plane(origin=(-6, 20.5, 0), x_dir=(1, 0, 0), z_dir=(0, 0, 1))):
        with Locations((5, 5)):
            Rectangle(BOX045_W, BOX045_H)
    extrude(amount=BOX045_DEPTH)


with BuildPart() as nobhole041:
    # Sphere042 → Sphere042 (revolve)
    with BuildSketch(Plane(origin=(-1, 21.8, 6), x_dir=(1, 0, 0), z_dir=(0, -1, 0))):
        with BuildLine():
            ThreePointArc((0, -3), (3, 0), (0, 3))
            Line((0, 3), (0, -3))
        make_face()
    revolve(axis=Axis((-1, 21.8, 6), (0, 0, 1)))

    # Cut043: cut Cube043
    add(cube043.part, mode=Mode.SUBTRACT)


with BuildPart() as nobhole041_1:
    # Cut043 placement: moved
    add(nobhole041.part.moved(Location((0, 0, 130))))


with BuildPart() as cube042:
    # Box044 → Box044 (new body)
    with BuildSketch(Plane(origin=(-6, 20.5, 0), x_dir=(1, 0, 0), z_dir=(0, 0, 1))):
        with Locations((5, 5)):
            Rectangle(BOX044_W, BOX044_H)
    extrude(amount=BOX044_DEPTH)


with BuildPart() as fusion013:
    # Sphere040 → Sphere040 (revolve)
    with BuildSketch(Plane(origin=(-1, 21.8, 6), x_dir=(1, 0, 0), z_dir=(0, -1, 0))):
        with BuildLine():
            ThreePointArc((0, -3), (3, 0), (0, 3))
            Line((0, 3), (0, -3))
        make_face()
    revolve(axis=Axis((-1, 21.8, 6), (0, 0, 1)))

    # Cut038: cut Cube042
    add(cube042.part, mode=Mode.SUBTRACT)

    # Fusion011: union NobHole028, NobHole029, NobHole030, NobHole031, NobHole032, NobHole033, NobHole034, NobHole035, NobHole037, NobHole038, NobHole039, NobHole040, NobHole041
    add(nobhole028_1.part)
    add(nobhole029_1.part)
    add(nobhole030_1.part)
    add(nobhole031_1.part)
    add(nobhole032_1.part)
    add(nobhole033_1.part)
    add(nobhole034_1.part)
    add(nobhole035_1.part)
    add(nobhole037_1.part)
    add(nobhole038_1.part)
    add(nobhole039_1.part)
    add(nobhole040_1.part)
    add(nobhole041_1.part)


with BuildPart() as fusion013_1:
    # Fusion011 placement: moved
    add(fusion013.part.moved(Location((-2, 0, 0))).rotate(Axis((-2, 0, 0), (0, 0, 1)), FUSION011_PLACEMENT_ANGLE))

    # Fusion013: union NobHoles
    add(nobholes.part)


with BuildPart() as fusion013_2:
    # Fusion013 placement: moved
    add(fusion013_1.part.moved(Location((-0.4, 0, 0))))


with BuildPart() as corner004:
    # Sketch005 → Extrude005 (new body)
    with BuildSketch(Plane.XY):
        Polygon((-14.4, 18.1), (0, 18.1), (0, -18.1), (-14.4, -18.1), (-14.4, -19.5), (-7.2, -19.5), (-7.2, -21), (1, -21), (1, 21), (-7.2, 21), (-7.2, 19.5), (-14.4, 19.5), align=None)
    extrude(amount=EXTRUDE005_DEPTH)


with BuildPart() as corner004_1:
    # Extrude005 placement: moved
    add(corner004.part.moved(Location((10, 0, 1.6))))


with BuildPart() as corner005:
    # Sketch006 → Extrude006 (new body)
    with BuildSketch(Plane.XY):
        Polygon((-14.4, 18.1), (0, 18.1), (0, -18.1), (-14.4, -18.1), (-14.4, -19.5), (-7.2, -19.5), (-7.2, -21), (1, -21), (1, 21), (-7.2, 21), (-7.2, 19.5), (-14.4, 19.5), align=None)
    extrude(amount=EXTRUDE006_DEPTH)


with BuildPart() as corner005_1:
    # Extrude006 placement: moved
    add(corner005.part.moved(Location((10, 0, 143.3))))


with BuildPart() as rail:
    # Sketch001 → Extrude001 (new body)
    with BuildSketch(Plane.XY):
        Polygon((-14.4, 18.1), (0, 18.1), (0, -18.1), (-14.4, -18.1), (-14.4, -19.5), (-7.2, -19.5), (-7.2, -21), (1, -21), (1, 21), (-7.2, 21), (-7.2, 19.5), (-14.4, 19.5), align=None)
    extrude(amount=EXTRUDE001_DEPTH)


with BuildPart() as rail_1:
    # Extrude001 placement: moved
    add(rail.part.moved(Location((10, 0, -3.5))))

    # Fusion005: union corner004, corner005
    add(corner004_1.part)
    add(corner005_1.part)


with BuildPart() as clippedsidewithnodholesstablelise:
    # Sketch002 → Extrude002 (new body)
    with BuildSketch(Plane(origin=(10, 0, 1.6), x_dir=(1, 0, 0), z_dir=(0, 0, 1))):
        Polygon((-8.2, 21), (0, 21), (0, -21), (-8.2, -21), (-8.2, -21.5), (0.5, -21.5), (0.5, 21.5), (-8.2, 21.5), align=None)
    extrude(amount=EXTRUDE002_DEPTH)


with BuildPart() as clippedsidewithnodholesstablelise_1:
    # Extrude002 placement: moved
    add(clippedsidewithnodholesstablelise.part.moved(Location((1, 0, -5.1))))

    # Fusion006: union rail
    add(rail_1.part)

    # Cut058: cut Fusion013
    add(fusion013_2.part, mode=Mode.SUBTRACT)

    # Fusion026: union stableliser2, stableliser1
    add(stableliser2_2.part)
    add(stableliser1_1.part)


solid = clippedsidewithnodholesstablelise_1.part
